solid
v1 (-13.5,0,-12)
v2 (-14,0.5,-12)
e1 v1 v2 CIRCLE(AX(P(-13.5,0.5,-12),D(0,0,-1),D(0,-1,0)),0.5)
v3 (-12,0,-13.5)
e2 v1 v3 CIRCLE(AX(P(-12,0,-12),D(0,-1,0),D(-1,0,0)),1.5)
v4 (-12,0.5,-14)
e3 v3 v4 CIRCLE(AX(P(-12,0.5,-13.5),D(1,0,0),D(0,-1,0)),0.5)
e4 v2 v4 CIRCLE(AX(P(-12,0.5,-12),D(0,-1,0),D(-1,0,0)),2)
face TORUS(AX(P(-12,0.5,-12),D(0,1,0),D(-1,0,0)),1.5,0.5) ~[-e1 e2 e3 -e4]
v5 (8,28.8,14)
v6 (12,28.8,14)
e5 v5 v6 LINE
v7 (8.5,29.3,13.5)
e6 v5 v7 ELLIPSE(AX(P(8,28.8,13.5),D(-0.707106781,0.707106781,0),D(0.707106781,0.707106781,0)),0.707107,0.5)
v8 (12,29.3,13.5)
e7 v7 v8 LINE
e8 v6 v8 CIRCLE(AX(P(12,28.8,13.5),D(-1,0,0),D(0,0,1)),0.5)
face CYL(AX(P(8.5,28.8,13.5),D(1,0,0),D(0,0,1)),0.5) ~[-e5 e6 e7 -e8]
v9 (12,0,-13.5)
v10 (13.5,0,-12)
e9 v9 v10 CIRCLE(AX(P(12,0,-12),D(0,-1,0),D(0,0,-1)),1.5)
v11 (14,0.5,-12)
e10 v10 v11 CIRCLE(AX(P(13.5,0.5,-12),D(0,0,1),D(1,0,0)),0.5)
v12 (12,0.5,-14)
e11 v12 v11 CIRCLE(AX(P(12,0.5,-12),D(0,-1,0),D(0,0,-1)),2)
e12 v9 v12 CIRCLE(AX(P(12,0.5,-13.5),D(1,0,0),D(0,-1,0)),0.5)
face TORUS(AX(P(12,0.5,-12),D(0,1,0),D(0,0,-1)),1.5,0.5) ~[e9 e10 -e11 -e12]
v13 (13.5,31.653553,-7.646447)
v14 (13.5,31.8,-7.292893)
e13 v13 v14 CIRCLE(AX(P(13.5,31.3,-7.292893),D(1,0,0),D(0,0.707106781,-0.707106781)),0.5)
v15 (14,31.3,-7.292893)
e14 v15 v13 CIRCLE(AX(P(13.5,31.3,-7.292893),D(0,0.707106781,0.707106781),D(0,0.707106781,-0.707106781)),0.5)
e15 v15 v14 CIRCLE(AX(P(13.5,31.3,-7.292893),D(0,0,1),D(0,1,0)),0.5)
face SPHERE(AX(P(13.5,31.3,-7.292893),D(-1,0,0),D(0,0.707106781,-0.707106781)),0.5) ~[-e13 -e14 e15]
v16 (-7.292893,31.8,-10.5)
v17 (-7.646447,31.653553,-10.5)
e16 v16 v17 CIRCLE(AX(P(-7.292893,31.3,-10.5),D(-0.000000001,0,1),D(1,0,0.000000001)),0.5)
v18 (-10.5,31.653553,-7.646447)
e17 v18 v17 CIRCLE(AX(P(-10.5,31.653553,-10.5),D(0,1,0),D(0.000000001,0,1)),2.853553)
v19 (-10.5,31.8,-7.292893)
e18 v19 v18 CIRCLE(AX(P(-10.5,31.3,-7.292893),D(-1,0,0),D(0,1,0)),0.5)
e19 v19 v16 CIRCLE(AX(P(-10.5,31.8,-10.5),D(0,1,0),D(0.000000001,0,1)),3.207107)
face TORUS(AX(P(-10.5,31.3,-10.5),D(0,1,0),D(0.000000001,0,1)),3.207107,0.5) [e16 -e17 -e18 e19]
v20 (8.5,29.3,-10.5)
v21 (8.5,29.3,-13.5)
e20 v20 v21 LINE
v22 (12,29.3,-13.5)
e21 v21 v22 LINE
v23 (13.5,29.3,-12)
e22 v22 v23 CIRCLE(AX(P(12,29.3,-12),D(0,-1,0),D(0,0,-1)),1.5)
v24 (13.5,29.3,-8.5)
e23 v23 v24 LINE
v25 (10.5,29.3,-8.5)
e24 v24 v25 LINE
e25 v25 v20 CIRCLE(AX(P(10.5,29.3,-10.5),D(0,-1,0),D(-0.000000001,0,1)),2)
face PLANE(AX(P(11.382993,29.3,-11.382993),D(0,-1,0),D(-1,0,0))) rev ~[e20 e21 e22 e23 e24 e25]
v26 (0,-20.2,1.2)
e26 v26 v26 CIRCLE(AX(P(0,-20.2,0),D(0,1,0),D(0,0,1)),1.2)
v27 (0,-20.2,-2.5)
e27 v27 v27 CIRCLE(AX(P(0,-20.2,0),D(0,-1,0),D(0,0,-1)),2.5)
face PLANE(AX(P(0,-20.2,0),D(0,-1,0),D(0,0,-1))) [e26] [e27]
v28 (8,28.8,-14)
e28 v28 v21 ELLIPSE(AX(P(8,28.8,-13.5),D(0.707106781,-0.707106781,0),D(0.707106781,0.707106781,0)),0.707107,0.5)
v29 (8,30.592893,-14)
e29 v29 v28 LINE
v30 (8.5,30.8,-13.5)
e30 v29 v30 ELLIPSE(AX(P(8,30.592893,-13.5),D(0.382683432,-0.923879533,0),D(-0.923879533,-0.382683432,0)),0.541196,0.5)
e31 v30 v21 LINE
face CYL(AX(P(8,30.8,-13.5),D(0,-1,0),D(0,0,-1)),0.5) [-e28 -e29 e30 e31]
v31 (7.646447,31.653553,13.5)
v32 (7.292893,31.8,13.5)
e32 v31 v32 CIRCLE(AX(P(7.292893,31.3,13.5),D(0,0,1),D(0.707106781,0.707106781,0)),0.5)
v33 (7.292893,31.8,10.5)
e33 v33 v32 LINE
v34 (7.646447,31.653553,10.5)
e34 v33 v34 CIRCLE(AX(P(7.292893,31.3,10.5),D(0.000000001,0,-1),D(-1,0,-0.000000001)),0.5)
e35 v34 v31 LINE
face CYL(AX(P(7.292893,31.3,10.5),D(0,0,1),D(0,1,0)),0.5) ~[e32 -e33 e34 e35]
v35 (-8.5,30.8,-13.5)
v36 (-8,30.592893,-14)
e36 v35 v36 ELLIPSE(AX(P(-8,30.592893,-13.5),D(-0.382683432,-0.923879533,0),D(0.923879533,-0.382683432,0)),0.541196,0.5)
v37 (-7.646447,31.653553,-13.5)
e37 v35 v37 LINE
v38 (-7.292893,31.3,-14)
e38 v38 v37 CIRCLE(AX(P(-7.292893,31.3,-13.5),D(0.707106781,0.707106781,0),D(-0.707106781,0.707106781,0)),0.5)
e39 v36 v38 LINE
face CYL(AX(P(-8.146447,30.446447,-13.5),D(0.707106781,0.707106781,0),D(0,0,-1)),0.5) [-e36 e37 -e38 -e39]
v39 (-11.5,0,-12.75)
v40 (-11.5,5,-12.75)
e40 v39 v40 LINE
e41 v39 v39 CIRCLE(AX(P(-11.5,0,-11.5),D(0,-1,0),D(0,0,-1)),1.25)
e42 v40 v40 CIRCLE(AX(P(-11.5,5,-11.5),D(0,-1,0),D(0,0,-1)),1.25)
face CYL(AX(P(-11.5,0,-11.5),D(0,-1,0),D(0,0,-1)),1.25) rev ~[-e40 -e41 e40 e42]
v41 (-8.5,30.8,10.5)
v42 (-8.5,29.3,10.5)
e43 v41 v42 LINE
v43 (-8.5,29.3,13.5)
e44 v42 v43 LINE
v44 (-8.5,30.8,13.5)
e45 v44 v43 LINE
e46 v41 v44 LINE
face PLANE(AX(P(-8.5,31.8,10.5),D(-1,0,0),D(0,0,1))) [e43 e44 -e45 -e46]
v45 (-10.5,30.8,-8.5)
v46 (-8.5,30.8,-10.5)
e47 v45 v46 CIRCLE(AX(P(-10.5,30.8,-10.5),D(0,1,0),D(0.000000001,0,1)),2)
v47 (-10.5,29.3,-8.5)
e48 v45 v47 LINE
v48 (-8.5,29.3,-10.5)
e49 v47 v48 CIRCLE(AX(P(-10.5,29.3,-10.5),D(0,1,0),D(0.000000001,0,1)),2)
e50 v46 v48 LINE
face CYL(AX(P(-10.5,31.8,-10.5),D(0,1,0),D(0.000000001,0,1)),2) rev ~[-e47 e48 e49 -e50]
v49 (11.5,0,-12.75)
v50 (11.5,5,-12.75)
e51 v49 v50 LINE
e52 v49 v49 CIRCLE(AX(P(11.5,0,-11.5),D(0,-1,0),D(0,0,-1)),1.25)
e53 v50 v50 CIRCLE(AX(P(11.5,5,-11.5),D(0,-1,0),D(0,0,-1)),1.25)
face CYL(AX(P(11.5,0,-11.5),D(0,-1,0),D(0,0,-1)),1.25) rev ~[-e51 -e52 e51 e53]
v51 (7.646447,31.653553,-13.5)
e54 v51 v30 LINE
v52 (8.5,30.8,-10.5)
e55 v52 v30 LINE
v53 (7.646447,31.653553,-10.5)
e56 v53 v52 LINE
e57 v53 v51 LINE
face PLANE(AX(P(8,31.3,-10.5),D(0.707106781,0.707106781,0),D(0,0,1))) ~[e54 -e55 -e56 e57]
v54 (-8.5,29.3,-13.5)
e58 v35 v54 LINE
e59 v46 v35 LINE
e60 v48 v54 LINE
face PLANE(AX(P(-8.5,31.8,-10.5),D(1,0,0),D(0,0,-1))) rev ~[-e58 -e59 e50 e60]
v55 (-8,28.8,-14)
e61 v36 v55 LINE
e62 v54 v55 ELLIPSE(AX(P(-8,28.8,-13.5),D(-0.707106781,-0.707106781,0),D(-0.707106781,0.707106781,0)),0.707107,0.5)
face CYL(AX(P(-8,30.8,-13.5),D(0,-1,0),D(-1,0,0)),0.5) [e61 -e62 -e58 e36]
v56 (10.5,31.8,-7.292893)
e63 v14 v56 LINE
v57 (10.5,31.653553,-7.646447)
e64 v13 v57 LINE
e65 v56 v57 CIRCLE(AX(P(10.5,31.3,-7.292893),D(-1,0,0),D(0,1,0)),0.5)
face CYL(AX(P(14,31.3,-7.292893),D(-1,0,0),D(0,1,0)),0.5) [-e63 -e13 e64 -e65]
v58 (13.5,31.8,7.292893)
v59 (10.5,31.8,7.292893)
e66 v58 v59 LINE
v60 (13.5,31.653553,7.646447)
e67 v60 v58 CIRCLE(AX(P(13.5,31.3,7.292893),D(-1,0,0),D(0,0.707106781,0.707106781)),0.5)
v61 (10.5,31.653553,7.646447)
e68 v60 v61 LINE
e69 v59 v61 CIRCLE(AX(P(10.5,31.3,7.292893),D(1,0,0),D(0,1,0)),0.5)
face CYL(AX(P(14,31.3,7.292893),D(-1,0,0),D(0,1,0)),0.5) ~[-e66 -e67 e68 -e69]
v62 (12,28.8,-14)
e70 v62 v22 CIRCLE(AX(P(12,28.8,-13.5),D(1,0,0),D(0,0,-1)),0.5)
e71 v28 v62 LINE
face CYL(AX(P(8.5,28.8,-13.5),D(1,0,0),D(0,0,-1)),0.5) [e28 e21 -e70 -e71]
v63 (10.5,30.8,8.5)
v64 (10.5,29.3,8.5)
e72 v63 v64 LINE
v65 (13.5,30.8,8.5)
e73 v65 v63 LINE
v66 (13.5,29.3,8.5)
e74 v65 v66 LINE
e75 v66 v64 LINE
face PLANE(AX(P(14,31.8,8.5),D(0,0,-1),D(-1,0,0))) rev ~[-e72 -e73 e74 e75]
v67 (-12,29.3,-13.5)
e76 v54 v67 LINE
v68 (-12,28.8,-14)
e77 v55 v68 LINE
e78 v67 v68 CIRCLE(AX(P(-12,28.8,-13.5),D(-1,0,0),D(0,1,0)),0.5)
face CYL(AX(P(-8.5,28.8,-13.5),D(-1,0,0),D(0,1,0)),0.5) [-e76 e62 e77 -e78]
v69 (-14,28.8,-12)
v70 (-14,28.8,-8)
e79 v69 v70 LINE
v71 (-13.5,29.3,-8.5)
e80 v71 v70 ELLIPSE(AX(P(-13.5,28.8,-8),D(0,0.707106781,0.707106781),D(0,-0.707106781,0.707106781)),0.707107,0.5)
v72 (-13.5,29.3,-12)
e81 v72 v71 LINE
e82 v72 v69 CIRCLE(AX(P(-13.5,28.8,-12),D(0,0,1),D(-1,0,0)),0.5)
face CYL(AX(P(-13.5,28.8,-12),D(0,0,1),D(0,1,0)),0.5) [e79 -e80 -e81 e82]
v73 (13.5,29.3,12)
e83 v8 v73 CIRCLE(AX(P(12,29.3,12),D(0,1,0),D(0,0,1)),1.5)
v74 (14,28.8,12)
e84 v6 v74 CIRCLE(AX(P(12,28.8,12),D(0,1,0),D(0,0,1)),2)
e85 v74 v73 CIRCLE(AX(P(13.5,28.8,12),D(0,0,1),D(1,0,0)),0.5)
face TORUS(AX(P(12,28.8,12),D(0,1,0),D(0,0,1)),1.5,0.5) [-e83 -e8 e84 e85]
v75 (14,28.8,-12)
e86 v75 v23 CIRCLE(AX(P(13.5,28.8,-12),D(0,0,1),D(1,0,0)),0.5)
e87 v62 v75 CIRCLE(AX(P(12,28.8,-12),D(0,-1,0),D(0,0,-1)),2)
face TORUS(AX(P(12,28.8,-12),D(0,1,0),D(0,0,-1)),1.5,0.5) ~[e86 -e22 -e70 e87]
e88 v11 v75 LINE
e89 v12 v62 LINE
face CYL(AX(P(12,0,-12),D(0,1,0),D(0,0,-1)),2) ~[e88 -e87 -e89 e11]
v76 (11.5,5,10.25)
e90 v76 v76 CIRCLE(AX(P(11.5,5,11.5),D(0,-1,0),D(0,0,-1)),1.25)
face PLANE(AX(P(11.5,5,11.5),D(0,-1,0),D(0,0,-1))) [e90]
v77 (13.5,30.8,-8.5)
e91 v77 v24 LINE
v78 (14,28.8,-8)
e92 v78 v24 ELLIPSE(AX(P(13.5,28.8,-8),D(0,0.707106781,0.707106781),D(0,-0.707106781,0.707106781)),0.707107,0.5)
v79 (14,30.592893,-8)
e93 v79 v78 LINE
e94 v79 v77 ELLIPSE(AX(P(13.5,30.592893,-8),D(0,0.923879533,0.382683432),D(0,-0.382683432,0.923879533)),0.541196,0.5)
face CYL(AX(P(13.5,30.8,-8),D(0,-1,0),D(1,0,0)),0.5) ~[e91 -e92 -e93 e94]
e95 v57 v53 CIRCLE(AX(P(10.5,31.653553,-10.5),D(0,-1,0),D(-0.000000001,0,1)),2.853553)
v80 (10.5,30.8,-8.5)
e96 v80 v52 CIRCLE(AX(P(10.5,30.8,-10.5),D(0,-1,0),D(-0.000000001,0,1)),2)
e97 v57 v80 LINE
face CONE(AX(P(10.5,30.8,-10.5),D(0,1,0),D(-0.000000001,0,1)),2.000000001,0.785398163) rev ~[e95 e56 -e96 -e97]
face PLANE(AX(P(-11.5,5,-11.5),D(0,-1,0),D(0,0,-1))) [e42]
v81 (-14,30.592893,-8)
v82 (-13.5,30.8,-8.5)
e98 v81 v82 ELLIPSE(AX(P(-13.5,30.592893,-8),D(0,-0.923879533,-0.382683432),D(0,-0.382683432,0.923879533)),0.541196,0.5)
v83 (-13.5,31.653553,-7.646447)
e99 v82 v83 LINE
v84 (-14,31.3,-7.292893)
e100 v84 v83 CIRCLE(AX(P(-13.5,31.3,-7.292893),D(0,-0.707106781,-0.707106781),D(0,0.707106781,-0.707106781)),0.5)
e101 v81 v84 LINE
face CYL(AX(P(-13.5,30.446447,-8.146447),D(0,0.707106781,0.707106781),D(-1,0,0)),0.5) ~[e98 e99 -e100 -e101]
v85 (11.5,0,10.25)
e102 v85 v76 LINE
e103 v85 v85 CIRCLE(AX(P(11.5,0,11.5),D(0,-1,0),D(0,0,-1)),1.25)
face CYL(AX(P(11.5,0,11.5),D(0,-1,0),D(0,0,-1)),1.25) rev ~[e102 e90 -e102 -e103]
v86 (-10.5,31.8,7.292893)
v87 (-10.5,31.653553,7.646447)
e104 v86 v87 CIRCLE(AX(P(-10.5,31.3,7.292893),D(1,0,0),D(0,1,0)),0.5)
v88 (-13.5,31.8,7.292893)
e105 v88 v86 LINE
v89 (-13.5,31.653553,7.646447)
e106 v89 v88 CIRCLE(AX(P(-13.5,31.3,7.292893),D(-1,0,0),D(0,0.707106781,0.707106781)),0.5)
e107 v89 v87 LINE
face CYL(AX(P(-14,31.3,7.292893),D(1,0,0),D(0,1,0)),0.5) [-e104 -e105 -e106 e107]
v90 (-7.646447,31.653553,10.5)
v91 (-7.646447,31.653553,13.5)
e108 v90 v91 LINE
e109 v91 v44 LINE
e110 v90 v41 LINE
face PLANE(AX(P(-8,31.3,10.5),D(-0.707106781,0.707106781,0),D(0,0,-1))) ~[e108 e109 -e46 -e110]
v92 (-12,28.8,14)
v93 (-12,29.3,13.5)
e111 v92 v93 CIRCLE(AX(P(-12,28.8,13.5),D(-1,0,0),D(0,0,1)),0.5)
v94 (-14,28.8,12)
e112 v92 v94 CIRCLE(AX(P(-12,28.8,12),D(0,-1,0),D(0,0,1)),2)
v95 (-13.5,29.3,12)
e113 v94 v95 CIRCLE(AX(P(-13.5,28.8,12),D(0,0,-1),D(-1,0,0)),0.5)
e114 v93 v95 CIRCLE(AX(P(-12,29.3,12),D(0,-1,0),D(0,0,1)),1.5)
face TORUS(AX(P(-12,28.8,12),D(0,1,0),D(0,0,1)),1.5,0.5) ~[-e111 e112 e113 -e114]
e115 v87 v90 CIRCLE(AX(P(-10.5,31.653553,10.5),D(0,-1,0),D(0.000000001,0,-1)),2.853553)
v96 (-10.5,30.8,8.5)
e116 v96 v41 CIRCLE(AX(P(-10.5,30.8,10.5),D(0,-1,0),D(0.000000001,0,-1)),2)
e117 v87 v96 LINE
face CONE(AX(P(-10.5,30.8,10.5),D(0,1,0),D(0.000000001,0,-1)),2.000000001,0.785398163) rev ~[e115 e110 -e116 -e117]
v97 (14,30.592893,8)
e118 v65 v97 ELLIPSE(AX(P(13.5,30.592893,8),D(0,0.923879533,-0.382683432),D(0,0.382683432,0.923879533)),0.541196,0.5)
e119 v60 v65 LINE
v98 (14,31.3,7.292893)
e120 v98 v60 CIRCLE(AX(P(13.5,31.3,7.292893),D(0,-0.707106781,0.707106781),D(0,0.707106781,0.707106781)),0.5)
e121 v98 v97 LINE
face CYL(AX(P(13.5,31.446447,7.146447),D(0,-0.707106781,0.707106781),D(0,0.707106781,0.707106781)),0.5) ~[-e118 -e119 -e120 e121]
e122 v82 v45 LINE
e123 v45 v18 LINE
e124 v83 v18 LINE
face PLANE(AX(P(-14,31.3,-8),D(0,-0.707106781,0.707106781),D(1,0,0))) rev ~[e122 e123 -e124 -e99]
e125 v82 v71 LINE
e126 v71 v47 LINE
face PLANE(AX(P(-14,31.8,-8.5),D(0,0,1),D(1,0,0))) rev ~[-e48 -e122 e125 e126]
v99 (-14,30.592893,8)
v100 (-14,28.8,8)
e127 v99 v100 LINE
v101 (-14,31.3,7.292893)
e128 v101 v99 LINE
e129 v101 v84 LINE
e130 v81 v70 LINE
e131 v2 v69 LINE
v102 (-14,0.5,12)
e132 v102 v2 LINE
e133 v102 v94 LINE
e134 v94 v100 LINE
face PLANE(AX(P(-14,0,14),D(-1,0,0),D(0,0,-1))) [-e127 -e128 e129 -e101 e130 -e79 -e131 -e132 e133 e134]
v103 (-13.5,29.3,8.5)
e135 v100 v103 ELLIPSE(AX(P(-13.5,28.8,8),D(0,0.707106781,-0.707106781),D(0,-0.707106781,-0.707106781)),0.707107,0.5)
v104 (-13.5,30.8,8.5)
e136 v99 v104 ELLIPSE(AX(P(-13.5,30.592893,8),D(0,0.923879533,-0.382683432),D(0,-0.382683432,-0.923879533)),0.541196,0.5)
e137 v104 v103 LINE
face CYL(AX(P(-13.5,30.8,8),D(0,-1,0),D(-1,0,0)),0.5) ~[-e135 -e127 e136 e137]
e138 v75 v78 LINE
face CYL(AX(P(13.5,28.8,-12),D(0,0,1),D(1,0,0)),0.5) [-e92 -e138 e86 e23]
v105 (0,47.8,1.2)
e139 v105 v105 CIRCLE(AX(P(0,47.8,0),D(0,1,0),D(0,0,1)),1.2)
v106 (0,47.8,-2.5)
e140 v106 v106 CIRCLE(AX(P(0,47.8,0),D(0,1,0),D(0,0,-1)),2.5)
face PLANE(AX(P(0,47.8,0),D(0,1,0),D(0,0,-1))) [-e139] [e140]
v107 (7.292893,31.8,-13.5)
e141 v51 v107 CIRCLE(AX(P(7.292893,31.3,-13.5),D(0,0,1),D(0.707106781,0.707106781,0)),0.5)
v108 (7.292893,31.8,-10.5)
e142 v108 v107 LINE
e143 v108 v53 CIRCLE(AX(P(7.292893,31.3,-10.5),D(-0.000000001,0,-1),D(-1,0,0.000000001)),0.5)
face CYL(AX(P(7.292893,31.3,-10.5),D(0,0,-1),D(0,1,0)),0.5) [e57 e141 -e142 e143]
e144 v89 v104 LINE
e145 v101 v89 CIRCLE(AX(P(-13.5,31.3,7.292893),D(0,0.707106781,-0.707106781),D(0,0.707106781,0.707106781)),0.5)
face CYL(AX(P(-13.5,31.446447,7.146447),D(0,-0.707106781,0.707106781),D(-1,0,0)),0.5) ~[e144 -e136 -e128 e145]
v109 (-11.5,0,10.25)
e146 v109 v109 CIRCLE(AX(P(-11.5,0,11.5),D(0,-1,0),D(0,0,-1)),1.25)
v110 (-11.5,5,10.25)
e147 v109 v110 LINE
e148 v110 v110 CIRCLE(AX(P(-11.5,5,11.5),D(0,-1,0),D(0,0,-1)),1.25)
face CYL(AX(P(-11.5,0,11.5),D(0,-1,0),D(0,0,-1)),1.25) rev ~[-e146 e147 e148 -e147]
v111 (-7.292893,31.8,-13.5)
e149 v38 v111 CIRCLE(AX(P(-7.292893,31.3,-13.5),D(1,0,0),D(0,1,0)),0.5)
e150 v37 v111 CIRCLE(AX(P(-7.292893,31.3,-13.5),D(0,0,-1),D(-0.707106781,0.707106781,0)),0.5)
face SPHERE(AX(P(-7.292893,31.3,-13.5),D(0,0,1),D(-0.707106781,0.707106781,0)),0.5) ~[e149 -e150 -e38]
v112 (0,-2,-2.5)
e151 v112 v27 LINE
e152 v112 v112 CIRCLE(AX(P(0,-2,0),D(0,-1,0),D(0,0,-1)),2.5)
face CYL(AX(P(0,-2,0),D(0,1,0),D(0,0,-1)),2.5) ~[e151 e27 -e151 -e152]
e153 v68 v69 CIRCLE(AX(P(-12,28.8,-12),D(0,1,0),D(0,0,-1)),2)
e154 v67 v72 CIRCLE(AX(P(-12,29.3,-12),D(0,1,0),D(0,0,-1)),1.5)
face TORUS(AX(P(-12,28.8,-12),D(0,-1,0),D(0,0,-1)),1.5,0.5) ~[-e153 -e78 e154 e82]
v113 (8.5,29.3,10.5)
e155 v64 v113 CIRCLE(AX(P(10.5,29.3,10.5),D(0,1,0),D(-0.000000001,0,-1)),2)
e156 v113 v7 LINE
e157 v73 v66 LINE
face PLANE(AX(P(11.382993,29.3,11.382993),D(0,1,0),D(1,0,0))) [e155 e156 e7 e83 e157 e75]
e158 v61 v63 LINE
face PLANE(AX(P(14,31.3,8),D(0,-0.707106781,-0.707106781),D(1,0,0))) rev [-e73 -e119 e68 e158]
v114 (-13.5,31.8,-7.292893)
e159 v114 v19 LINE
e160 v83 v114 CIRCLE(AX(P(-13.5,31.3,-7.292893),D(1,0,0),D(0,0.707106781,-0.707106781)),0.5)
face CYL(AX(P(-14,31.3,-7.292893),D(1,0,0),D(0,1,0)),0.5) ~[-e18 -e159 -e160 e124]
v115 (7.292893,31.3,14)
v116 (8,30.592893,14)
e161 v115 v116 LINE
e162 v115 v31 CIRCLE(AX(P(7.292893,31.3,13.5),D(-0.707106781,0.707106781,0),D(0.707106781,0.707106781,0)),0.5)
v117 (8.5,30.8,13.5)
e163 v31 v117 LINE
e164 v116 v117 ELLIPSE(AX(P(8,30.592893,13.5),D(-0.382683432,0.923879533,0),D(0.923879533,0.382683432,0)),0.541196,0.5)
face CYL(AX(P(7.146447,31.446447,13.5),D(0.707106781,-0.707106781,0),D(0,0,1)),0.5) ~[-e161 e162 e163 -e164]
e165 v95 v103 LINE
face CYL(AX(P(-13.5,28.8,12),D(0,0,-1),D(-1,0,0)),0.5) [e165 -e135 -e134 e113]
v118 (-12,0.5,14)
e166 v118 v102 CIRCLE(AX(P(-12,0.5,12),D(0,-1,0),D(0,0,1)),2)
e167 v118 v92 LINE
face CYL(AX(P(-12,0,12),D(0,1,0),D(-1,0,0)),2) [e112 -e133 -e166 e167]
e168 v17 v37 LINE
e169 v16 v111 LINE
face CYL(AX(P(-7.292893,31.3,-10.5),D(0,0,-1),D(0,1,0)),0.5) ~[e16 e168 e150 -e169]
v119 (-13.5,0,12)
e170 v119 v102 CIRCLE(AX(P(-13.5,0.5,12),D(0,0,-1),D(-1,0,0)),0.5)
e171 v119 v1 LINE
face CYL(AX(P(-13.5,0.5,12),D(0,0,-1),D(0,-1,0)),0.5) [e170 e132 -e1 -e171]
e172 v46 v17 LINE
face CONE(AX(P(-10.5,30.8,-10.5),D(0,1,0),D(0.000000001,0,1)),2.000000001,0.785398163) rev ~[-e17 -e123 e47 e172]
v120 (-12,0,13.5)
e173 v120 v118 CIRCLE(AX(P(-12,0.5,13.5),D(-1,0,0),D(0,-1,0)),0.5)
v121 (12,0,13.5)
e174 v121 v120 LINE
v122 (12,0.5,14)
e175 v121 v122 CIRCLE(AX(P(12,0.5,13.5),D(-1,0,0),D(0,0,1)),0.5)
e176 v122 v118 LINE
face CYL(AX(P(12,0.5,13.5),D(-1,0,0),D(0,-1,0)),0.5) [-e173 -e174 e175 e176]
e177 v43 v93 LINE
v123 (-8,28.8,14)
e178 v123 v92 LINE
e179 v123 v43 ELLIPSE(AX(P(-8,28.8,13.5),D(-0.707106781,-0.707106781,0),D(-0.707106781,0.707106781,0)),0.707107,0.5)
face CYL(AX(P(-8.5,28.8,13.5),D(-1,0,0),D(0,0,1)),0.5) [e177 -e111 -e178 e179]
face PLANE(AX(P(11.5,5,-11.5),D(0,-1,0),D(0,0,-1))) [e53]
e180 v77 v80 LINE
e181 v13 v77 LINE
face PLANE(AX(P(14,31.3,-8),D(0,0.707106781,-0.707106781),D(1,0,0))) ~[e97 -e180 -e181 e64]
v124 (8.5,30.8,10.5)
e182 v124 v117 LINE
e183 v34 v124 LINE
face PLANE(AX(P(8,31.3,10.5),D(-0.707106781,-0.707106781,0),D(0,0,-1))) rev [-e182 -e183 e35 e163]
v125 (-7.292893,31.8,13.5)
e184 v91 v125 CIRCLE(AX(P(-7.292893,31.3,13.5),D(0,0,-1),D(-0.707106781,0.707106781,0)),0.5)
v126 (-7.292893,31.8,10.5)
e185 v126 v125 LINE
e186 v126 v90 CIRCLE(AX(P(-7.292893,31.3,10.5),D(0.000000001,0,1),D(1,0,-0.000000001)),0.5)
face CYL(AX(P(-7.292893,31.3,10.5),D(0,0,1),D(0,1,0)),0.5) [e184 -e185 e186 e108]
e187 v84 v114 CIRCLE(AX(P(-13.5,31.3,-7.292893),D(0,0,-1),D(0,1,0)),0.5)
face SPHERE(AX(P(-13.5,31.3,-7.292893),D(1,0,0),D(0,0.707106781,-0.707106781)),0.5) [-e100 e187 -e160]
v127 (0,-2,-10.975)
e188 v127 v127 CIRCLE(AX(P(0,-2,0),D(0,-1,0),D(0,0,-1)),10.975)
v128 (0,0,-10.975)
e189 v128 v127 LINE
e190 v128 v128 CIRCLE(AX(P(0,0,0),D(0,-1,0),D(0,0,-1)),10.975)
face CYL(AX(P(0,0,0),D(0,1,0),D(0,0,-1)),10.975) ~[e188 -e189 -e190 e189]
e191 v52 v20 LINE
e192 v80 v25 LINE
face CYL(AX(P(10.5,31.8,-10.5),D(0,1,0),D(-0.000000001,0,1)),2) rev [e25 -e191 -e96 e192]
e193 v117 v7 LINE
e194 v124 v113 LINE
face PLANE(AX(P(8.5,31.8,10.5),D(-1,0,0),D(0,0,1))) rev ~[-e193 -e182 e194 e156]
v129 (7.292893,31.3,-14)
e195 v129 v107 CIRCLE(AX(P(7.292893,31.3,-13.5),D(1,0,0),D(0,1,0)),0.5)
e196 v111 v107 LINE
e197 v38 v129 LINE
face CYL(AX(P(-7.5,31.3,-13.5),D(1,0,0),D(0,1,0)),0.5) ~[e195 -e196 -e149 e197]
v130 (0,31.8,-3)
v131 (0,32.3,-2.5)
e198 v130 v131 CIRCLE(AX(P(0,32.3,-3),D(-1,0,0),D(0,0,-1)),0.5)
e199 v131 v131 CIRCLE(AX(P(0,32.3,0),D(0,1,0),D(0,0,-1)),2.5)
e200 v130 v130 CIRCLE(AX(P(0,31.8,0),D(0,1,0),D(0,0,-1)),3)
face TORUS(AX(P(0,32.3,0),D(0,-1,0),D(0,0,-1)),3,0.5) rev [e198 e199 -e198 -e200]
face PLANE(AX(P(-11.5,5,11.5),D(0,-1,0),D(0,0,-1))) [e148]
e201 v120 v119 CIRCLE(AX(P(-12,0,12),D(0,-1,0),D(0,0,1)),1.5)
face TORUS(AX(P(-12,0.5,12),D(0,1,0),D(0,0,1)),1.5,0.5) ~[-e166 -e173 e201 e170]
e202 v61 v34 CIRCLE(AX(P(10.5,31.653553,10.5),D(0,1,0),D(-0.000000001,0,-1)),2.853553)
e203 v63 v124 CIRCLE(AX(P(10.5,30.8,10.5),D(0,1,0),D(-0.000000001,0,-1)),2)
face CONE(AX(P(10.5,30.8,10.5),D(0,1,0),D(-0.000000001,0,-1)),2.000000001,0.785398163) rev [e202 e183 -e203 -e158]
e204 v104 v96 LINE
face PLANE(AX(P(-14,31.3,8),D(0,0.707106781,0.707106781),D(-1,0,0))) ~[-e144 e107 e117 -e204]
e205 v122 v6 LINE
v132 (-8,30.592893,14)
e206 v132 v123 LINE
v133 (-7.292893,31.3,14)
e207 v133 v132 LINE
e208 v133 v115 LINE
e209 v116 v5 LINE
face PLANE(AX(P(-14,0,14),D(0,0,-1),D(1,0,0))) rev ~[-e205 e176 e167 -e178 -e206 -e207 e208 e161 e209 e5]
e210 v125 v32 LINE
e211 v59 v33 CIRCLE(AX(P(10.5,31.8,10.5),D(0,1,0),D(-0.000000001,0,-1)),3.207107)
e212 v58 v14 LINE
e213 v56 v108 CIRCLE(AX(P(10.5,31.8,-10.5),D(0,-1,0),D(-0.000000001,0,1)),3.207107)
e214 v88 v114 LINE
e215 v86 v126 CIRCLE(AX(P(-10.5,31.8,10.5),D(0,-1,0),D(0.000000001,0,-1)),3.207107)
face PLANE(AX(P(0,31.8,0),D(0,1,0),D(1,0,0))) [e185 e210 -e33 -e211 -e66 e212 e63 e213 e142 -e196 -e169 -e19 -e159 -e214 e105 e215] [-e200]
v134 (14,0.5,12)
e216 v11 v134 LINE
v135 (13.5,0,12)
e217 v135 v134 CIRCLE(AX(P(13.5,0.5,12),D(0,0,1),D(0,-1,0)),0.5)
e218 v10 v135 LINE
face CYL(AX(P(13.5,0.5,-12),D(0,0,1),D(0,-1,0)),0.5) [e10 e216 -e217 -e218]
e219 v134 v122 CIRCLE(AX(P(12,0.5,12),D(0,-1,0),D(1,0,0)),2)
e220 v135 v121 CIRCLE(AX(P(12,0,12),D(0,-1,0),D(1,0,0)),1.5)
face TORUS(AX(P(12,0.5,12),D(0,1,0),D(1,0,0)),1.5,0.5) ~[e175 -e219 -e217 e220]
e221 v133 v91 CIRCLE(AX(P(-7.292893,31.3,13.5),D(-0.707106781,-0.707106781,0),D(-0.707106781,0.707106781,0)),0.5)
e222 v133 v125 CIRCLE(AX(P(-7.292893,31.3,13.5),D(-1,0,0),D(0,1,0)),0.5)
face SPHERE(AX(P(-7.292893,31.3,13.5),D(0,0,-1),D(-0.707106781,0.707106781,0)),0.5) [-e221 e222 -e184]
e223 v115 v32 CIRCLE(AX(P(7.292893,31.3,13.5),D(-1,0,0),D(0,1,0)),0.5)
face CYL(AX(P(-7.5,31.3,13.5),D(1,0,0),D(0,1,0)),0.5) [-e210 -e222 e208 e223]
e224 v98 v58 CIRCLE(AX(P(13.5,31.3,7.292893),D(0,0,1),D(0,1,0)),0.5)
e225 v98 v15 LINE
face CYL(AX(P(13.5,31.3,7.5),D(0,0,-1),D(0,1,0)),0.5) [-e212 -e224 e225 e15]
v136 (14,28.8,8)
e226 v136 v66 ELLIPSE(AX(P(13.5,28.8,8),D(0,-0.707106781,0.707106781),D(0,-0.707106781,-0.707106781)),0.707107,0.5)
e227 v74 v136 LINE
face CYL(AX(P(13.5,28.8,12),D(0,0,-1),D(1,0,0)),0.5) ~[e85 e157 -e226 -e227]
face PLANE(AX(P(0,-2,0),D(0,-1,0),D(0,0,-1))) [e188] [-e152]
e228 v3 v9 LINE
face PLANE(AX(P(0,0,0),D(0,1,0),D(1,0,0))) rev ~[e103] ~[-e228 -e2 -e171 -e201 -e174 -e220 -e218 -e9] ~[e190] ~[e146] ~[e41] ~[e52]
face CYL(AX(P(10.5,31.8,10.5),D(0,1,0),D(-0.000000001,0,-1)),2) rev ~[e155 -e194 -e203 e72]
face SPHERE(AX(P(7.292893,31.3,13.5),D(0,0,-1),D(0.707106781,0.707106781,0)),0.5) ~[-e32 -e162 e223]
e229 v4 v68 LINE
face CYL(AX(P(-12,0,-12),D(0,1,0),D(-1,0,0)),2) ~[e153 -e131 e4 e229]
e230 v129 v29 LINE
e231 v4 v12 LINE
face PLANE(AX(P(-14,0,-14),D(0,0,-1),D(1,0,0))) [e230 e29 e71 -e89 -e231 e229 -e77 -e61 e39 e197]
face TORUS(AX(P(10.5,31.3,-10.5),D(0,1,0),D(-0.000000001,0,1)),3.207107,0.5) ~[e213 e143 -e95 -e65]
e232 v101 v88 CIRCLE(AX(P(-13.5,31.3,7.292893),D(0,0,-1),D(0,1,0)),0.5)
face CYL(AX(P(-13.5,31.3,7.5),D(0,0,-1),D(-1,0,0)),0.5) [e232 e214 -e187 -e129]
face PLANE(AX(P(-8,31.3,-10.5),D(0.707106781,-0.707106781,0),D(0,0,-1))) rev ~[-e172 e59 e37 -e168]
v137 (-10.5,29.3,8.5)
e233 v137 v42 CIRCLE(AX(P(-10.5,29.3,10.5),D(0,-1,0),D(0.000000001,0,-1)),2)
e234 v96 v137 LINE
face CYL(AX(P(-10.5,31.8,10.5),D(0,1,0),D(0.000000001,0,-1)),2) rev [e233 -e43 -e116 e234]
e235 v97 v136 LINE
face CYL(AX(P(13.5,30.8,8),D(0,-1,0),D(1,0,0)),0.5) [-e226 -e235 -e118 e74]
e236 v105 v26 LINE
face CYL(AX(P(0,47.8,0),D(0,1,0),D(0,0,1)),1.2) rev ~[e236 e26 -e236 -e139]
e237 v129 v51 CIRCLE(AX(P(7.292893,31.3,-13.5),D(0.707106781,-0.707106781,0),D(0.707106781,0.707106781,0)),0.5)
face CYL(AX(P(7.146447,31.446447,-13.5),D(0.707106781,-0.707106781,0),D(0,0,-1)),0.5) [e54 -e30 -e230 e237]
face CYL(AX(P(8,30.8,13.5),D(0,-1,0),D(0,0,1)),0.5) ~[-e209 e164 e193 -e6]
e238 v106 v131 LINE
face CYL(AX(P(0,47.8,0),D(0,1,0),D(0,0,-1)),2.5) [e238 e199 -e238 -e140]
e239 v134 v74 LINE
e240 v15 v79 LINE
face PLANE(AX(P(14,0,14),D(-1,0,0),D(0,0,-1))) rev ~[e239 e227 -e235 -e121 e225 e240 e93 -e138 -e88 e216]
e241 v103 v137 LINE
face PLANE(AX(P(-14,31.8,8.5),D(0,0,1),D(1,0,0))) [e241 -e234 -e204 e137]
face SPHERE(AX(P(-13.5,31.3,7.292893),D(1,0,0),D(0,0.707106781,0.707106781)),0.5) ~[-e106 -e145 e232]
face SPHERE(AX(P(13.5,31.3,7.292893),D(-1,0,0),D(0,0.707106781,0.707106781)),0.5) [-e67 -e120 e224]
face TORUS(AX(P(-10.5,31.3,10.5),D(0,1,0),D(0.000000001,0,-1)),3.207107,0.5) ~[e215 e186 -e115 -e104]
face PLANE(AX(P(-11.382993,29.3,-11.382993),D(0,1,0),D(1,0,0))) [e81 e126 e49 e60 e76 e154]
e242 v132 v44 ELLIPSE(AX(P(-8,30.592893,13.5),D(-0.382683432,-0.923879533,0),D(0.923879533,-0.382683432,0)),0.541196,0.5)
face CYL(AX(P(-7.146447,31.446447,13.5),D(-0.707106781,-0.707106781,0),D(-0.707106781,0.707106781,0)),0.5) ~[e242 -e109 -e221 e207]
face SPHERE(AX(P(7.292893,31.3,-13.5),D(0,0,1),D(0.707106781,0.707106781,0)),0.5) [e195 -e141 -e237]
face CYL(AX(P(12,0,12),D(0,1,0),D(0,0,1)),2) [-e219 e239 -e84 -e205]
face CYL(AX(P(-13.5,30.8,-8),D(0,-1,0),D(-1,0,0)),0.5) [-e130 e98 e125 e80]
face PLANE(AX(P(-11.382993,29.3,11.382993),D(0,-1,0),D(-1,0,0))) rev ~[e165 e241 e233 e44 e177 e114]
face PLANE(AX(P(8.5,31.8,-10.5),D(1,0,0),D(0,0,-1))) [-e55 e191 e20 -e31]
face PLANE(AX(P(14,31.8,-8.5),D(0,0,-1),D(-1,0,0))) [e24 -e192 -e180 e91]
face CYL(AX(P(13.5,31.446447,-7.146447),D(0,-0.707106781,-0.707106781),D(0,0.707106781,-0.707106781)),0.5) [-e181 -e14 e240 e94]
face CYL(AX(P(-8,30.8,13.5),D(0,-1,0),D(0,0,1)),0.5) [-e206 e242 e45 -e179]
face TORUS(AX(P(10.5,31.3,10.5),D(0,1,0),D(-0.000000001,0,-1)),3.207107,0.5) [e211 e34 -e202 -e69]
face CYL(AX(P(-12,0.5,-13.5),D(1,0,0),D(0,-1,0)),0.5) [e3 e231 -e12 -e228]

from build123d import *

# Parameters (mm, degrees)
SKETCH_1_W          = 28
SKETCH_1_H          = 28
EXTRUDE_1_DEPTH     = 31.8
SKETCH_2_R          = 10.975
EXTRUDE_2_DEPTH     = 2
SKETCH_3_R          = 2.5
EXTRUDE_3_DEPTH     = 18.2
EXTRUDE_START       = 16
SKETCH_4_R          = 2.5
EXTRUDE_4_DEPTH     = 16
FILLET_1_R          = 2
SKETCH_5_R          = 1.25
CUT_EXTRUDE_1_DEPTH = 5
CUT_EXTRUDE_2_DEPTH = 2.5
CHAMFER_1_SIZE      = 1
FILLET_2_R          = 0.5
SKETCH_7_R          = 1.2
CUT_EXTRUDE_3_DEPTH = 71.823724858


with BuildPart() as part:
    # 草图1 → 凸台-拉伸1 (new body)
    with BuildSketch(Plane(origin=(0, 0, 0), x_dir=(1, 0, 0), z_dir=(0, 1, 0))):
        Rectangle(SKETCH_1_W, SKETCH_1_H)
    extrude(amount=EXTRUDE_1_DEPTH)

    # 草图2 → 凸台-拉伸2 (add)
    with BuildSketch(Plane(origin=(0, 0, 0), x_dir=(-1, 0, 0), z_dir=(0, -1, 0))):
        with Locations(Location((0, 0, 0), (0, 0, 90))):
            Circle(SKETCH_2_R)
    extrude(amount=EXTRUDE_2_DEPTH)

    # 草图3 → 凸台-拉伸3 (add)
    with BuildSketch(Plane.XZ.offset(2)):
        with Locations(Location((0, 0, 0), (0, 0, 270))):
            Circle(SKETCH_3_R)
    extrude(amount=EXTRUDE_3_DEPTH)

    # 草图4 → 凸台-拉伸4 (add)
    with BuildSketch(Plane(origin=(0, 31.8, 0), x_dir=(1, 0, 0), z_dir=(0, 1, 0)).offset(EXTRUDE_START)):
        with Locations(Location((0, 0, 0), (0, 0, 90))):
            Circle(SKETCH_4_R)
    extrude(amount=-EXTRUDE_4_DEPTH)

    # 圆角1
    fillet_1_edges = [part.edges().sort_by_distance(p)[0] for p in [
        (-14, 15.9, -14),
        (14, 15.9, -14),
        (14, 15.9, 14),
        (-14, 15.9, 14),
    ]]
    fillet(fillet_1_edges, radius=FILLET_1_R)

    # 草图5 → 切除-拉伸1 (cut)
    with BuildSketch(Plane.XZ):
        with Locations(Location((-11.5, 11.5, 0), (0, 0, 270))):
            Circle(SKETCH_5_R)
        with Locations(Location((11.5, 11.5, 0), (0, 0, 270))):
            Circle(SKETCH_5_R)
        with Locations(Location((11.5, -11.5, 0), (0, 0, 270))):
            Circle(SKETCH_5_R)
        with Locations(Location((-11.5, -11.5, 0), (0, 0, 270))):
            Circle(SKETCH_5_R)
    extrude(amount=-CUT_EXTRUDE_1_DEPTH, mode=Mode.SUBTRACT)

    # 草图6 → 切除-拉伸2 (cut)
    with BuildSketch(Plane(origin=(0, 31.8, 0), x_dir=(1, 0, 0), z_dir=(0, 1, 0))):
        with BuildLine():
            Line((-14, -8.5), (-10.5, -8.5))
            ThreePointArc((-10.5, -8.5), (-9.085786438, -9.085786438), (-8.5, -10.5))
            Line((-8.5, -10.5), (-8.5, -14))
            Line((-8.5, -14), (-14, -14))
            Line((-14, -14), (-14, -8.5))
        make_face()
        with BuildLine():
            Line((14, 8.5), (10.5, 8.5))
            ThreePointArc((10.5, 8.5), (9.085786438, 9.085786438), (8.5, 10.5))
            Line((8.5, 10.5), (8.5, 14))
            Line((8.5, 14), (14, 14))
            Line((14, 14), (14, 8.5))
        make_face()
        with BuildLine():
            Line((-8.5, 14), (-14, 14))
            Line((-14, 14), (-14, 8.5))
            Line((-14, 8.5), (-10.5, 8.5))
            ThreePointArc((-10.5, 8.5), (-9.085786438, 9.085786438), (-8.5, 10.5))
            Line((-8.5, 10.5), (-8.5, 14))
        make_face()
        with BuildLine():
            Line((14, -8.5), (10.5, -8.5))
            ThreePointArc((10.5, -8.5), (9.085786438, -9.085786438), (8.5, -10.5))
            Line((8.5, -10.5), (8.5, -14))
            Line((8.5, -14), (14, -14))
            Line((14, -14), (14, -8.5))
        make_face()
    extrude(amount=-CUT_EXTRUDE_2_DEPTH, mode=Mode.SUBTRACT)

    # 倒角1
    chamfer_1_edges = [part.edges().sort_by_distance(p)[0] for p in [
        (-12.25, 31.8, -8.5),
        (-9.085786438, 31.8, -9.085786438),
        (-8.5, 31.8, -12.25),
        (8.5, 31.8, -12.25),
        (9.085786438, 31.8, -9.085786438),
        (12.25, 31.8, -8.5),
        (-8.5, 31.8, 12.25),
        (-9.085786438, 31.8, 9.085786438),
        (-12.25, 31.8, 8.5),
        (12.25, 31.8, 8.5),
        (9.085786438, 31.8, 9.085786438),
        (8.5, 31.8, 12.25),
    ]]
    chamfer(chamfer_1_edges, length=CHAMFER_1_SIZE)

    # 圆角2
    fillet_2_edges = [part.edges().sort_by_distance(p)[0] for p in [
        (-10.25, 29.3, -14),
        (-8.5, 30.05, -14),
        (-14, 29.3, -10.25),
        (-14, 30.05, -8.5),
        (14, 29.3, -10.25),
        (14, 30.05, -8.5),
        (10.25, 29.3, -14),
        (8.5, 30.05, -14),
        (-14, 29.3, 10.25),
        (-14, 30.05, 8.5),
        (-10.25, 29.3, 14),
        (-8.5, 30.05, 14),
        (14, 31.8, 0),
        (0, 31.8, -14),
        (-14, 31.8, 0),
        (0, 31.8, 14),
        (-7.5, 31.8, -12.25),
        (-8.378679656, 31.8, -8.378679656),
        (-12.25, 31.8, -7.5),
        (-8.378679656, 31.8, 8.378679656),
        (-12.25, 31.8, 7.5),
        (-7.5, 31.8, 12.25),
        (8.378679656, 31.8, -8.378679656),
        (12.25, 31.8, -7.5),
        (7.5, 31.8, -12.25),
        (8.378679656, 31.8, 8.378679656),
        (7.5, 31.8, 12.25),
        (12.25, 31.8, 7.5),
        (14, 31.3, -8),
        (14, 31.3, 8),
        (-8, 31.3, 14),
        (8, 31.3, 14),
        (-8, 31.3, -14),
        (8, 31.3, -14),
        (-14, 31.3, -8),
        (-14, 31.3, 8),
        (0, 31.8, 2.5),
        (0, 0, -14),
        (-14, 0, 0),
        (14, 0, 0),
        (0, 0, 14),
        (-13.414213562, 0, 13.414213562),
        (-13.414213562, 0, -13.414213562),
        (13.414213562, 0, 13.414213562),
        (13.414213562, 0, -13.414213562),
        (-13.414213562, 29.3, 13.414213562),
        (-13.414213562, 29.3, -13.414213562),
        (13.414213562, 29.3, 13.414213562),
        (13.414213562, 29.3, -13.414213562),
        (10.25, 29.3, 14),
        (14, 29.3, 10.25),
        (14, 30.05, 8.5),
        (8.5, 30.05, 14),
    ]]
    fillet(fillet_2_edges, radius=FILLET_2_R)

    # 草图7 → 切除-拉伸3 (cut, through all)
    with BuildSketch(Plane(origin=(0, 47.8, 0), x_dir=(1, 0, 0), z_dir=(0, 1, 0))):
        with Locations(Location((0, 0, 0), (0, 0, 270))):
            Circle(SKETCH_7_R)
    extrude(amount=-CUT_EXTRUDE_3_DEPTH, mode=Mode.SUBTRACT)


solid = part.part
